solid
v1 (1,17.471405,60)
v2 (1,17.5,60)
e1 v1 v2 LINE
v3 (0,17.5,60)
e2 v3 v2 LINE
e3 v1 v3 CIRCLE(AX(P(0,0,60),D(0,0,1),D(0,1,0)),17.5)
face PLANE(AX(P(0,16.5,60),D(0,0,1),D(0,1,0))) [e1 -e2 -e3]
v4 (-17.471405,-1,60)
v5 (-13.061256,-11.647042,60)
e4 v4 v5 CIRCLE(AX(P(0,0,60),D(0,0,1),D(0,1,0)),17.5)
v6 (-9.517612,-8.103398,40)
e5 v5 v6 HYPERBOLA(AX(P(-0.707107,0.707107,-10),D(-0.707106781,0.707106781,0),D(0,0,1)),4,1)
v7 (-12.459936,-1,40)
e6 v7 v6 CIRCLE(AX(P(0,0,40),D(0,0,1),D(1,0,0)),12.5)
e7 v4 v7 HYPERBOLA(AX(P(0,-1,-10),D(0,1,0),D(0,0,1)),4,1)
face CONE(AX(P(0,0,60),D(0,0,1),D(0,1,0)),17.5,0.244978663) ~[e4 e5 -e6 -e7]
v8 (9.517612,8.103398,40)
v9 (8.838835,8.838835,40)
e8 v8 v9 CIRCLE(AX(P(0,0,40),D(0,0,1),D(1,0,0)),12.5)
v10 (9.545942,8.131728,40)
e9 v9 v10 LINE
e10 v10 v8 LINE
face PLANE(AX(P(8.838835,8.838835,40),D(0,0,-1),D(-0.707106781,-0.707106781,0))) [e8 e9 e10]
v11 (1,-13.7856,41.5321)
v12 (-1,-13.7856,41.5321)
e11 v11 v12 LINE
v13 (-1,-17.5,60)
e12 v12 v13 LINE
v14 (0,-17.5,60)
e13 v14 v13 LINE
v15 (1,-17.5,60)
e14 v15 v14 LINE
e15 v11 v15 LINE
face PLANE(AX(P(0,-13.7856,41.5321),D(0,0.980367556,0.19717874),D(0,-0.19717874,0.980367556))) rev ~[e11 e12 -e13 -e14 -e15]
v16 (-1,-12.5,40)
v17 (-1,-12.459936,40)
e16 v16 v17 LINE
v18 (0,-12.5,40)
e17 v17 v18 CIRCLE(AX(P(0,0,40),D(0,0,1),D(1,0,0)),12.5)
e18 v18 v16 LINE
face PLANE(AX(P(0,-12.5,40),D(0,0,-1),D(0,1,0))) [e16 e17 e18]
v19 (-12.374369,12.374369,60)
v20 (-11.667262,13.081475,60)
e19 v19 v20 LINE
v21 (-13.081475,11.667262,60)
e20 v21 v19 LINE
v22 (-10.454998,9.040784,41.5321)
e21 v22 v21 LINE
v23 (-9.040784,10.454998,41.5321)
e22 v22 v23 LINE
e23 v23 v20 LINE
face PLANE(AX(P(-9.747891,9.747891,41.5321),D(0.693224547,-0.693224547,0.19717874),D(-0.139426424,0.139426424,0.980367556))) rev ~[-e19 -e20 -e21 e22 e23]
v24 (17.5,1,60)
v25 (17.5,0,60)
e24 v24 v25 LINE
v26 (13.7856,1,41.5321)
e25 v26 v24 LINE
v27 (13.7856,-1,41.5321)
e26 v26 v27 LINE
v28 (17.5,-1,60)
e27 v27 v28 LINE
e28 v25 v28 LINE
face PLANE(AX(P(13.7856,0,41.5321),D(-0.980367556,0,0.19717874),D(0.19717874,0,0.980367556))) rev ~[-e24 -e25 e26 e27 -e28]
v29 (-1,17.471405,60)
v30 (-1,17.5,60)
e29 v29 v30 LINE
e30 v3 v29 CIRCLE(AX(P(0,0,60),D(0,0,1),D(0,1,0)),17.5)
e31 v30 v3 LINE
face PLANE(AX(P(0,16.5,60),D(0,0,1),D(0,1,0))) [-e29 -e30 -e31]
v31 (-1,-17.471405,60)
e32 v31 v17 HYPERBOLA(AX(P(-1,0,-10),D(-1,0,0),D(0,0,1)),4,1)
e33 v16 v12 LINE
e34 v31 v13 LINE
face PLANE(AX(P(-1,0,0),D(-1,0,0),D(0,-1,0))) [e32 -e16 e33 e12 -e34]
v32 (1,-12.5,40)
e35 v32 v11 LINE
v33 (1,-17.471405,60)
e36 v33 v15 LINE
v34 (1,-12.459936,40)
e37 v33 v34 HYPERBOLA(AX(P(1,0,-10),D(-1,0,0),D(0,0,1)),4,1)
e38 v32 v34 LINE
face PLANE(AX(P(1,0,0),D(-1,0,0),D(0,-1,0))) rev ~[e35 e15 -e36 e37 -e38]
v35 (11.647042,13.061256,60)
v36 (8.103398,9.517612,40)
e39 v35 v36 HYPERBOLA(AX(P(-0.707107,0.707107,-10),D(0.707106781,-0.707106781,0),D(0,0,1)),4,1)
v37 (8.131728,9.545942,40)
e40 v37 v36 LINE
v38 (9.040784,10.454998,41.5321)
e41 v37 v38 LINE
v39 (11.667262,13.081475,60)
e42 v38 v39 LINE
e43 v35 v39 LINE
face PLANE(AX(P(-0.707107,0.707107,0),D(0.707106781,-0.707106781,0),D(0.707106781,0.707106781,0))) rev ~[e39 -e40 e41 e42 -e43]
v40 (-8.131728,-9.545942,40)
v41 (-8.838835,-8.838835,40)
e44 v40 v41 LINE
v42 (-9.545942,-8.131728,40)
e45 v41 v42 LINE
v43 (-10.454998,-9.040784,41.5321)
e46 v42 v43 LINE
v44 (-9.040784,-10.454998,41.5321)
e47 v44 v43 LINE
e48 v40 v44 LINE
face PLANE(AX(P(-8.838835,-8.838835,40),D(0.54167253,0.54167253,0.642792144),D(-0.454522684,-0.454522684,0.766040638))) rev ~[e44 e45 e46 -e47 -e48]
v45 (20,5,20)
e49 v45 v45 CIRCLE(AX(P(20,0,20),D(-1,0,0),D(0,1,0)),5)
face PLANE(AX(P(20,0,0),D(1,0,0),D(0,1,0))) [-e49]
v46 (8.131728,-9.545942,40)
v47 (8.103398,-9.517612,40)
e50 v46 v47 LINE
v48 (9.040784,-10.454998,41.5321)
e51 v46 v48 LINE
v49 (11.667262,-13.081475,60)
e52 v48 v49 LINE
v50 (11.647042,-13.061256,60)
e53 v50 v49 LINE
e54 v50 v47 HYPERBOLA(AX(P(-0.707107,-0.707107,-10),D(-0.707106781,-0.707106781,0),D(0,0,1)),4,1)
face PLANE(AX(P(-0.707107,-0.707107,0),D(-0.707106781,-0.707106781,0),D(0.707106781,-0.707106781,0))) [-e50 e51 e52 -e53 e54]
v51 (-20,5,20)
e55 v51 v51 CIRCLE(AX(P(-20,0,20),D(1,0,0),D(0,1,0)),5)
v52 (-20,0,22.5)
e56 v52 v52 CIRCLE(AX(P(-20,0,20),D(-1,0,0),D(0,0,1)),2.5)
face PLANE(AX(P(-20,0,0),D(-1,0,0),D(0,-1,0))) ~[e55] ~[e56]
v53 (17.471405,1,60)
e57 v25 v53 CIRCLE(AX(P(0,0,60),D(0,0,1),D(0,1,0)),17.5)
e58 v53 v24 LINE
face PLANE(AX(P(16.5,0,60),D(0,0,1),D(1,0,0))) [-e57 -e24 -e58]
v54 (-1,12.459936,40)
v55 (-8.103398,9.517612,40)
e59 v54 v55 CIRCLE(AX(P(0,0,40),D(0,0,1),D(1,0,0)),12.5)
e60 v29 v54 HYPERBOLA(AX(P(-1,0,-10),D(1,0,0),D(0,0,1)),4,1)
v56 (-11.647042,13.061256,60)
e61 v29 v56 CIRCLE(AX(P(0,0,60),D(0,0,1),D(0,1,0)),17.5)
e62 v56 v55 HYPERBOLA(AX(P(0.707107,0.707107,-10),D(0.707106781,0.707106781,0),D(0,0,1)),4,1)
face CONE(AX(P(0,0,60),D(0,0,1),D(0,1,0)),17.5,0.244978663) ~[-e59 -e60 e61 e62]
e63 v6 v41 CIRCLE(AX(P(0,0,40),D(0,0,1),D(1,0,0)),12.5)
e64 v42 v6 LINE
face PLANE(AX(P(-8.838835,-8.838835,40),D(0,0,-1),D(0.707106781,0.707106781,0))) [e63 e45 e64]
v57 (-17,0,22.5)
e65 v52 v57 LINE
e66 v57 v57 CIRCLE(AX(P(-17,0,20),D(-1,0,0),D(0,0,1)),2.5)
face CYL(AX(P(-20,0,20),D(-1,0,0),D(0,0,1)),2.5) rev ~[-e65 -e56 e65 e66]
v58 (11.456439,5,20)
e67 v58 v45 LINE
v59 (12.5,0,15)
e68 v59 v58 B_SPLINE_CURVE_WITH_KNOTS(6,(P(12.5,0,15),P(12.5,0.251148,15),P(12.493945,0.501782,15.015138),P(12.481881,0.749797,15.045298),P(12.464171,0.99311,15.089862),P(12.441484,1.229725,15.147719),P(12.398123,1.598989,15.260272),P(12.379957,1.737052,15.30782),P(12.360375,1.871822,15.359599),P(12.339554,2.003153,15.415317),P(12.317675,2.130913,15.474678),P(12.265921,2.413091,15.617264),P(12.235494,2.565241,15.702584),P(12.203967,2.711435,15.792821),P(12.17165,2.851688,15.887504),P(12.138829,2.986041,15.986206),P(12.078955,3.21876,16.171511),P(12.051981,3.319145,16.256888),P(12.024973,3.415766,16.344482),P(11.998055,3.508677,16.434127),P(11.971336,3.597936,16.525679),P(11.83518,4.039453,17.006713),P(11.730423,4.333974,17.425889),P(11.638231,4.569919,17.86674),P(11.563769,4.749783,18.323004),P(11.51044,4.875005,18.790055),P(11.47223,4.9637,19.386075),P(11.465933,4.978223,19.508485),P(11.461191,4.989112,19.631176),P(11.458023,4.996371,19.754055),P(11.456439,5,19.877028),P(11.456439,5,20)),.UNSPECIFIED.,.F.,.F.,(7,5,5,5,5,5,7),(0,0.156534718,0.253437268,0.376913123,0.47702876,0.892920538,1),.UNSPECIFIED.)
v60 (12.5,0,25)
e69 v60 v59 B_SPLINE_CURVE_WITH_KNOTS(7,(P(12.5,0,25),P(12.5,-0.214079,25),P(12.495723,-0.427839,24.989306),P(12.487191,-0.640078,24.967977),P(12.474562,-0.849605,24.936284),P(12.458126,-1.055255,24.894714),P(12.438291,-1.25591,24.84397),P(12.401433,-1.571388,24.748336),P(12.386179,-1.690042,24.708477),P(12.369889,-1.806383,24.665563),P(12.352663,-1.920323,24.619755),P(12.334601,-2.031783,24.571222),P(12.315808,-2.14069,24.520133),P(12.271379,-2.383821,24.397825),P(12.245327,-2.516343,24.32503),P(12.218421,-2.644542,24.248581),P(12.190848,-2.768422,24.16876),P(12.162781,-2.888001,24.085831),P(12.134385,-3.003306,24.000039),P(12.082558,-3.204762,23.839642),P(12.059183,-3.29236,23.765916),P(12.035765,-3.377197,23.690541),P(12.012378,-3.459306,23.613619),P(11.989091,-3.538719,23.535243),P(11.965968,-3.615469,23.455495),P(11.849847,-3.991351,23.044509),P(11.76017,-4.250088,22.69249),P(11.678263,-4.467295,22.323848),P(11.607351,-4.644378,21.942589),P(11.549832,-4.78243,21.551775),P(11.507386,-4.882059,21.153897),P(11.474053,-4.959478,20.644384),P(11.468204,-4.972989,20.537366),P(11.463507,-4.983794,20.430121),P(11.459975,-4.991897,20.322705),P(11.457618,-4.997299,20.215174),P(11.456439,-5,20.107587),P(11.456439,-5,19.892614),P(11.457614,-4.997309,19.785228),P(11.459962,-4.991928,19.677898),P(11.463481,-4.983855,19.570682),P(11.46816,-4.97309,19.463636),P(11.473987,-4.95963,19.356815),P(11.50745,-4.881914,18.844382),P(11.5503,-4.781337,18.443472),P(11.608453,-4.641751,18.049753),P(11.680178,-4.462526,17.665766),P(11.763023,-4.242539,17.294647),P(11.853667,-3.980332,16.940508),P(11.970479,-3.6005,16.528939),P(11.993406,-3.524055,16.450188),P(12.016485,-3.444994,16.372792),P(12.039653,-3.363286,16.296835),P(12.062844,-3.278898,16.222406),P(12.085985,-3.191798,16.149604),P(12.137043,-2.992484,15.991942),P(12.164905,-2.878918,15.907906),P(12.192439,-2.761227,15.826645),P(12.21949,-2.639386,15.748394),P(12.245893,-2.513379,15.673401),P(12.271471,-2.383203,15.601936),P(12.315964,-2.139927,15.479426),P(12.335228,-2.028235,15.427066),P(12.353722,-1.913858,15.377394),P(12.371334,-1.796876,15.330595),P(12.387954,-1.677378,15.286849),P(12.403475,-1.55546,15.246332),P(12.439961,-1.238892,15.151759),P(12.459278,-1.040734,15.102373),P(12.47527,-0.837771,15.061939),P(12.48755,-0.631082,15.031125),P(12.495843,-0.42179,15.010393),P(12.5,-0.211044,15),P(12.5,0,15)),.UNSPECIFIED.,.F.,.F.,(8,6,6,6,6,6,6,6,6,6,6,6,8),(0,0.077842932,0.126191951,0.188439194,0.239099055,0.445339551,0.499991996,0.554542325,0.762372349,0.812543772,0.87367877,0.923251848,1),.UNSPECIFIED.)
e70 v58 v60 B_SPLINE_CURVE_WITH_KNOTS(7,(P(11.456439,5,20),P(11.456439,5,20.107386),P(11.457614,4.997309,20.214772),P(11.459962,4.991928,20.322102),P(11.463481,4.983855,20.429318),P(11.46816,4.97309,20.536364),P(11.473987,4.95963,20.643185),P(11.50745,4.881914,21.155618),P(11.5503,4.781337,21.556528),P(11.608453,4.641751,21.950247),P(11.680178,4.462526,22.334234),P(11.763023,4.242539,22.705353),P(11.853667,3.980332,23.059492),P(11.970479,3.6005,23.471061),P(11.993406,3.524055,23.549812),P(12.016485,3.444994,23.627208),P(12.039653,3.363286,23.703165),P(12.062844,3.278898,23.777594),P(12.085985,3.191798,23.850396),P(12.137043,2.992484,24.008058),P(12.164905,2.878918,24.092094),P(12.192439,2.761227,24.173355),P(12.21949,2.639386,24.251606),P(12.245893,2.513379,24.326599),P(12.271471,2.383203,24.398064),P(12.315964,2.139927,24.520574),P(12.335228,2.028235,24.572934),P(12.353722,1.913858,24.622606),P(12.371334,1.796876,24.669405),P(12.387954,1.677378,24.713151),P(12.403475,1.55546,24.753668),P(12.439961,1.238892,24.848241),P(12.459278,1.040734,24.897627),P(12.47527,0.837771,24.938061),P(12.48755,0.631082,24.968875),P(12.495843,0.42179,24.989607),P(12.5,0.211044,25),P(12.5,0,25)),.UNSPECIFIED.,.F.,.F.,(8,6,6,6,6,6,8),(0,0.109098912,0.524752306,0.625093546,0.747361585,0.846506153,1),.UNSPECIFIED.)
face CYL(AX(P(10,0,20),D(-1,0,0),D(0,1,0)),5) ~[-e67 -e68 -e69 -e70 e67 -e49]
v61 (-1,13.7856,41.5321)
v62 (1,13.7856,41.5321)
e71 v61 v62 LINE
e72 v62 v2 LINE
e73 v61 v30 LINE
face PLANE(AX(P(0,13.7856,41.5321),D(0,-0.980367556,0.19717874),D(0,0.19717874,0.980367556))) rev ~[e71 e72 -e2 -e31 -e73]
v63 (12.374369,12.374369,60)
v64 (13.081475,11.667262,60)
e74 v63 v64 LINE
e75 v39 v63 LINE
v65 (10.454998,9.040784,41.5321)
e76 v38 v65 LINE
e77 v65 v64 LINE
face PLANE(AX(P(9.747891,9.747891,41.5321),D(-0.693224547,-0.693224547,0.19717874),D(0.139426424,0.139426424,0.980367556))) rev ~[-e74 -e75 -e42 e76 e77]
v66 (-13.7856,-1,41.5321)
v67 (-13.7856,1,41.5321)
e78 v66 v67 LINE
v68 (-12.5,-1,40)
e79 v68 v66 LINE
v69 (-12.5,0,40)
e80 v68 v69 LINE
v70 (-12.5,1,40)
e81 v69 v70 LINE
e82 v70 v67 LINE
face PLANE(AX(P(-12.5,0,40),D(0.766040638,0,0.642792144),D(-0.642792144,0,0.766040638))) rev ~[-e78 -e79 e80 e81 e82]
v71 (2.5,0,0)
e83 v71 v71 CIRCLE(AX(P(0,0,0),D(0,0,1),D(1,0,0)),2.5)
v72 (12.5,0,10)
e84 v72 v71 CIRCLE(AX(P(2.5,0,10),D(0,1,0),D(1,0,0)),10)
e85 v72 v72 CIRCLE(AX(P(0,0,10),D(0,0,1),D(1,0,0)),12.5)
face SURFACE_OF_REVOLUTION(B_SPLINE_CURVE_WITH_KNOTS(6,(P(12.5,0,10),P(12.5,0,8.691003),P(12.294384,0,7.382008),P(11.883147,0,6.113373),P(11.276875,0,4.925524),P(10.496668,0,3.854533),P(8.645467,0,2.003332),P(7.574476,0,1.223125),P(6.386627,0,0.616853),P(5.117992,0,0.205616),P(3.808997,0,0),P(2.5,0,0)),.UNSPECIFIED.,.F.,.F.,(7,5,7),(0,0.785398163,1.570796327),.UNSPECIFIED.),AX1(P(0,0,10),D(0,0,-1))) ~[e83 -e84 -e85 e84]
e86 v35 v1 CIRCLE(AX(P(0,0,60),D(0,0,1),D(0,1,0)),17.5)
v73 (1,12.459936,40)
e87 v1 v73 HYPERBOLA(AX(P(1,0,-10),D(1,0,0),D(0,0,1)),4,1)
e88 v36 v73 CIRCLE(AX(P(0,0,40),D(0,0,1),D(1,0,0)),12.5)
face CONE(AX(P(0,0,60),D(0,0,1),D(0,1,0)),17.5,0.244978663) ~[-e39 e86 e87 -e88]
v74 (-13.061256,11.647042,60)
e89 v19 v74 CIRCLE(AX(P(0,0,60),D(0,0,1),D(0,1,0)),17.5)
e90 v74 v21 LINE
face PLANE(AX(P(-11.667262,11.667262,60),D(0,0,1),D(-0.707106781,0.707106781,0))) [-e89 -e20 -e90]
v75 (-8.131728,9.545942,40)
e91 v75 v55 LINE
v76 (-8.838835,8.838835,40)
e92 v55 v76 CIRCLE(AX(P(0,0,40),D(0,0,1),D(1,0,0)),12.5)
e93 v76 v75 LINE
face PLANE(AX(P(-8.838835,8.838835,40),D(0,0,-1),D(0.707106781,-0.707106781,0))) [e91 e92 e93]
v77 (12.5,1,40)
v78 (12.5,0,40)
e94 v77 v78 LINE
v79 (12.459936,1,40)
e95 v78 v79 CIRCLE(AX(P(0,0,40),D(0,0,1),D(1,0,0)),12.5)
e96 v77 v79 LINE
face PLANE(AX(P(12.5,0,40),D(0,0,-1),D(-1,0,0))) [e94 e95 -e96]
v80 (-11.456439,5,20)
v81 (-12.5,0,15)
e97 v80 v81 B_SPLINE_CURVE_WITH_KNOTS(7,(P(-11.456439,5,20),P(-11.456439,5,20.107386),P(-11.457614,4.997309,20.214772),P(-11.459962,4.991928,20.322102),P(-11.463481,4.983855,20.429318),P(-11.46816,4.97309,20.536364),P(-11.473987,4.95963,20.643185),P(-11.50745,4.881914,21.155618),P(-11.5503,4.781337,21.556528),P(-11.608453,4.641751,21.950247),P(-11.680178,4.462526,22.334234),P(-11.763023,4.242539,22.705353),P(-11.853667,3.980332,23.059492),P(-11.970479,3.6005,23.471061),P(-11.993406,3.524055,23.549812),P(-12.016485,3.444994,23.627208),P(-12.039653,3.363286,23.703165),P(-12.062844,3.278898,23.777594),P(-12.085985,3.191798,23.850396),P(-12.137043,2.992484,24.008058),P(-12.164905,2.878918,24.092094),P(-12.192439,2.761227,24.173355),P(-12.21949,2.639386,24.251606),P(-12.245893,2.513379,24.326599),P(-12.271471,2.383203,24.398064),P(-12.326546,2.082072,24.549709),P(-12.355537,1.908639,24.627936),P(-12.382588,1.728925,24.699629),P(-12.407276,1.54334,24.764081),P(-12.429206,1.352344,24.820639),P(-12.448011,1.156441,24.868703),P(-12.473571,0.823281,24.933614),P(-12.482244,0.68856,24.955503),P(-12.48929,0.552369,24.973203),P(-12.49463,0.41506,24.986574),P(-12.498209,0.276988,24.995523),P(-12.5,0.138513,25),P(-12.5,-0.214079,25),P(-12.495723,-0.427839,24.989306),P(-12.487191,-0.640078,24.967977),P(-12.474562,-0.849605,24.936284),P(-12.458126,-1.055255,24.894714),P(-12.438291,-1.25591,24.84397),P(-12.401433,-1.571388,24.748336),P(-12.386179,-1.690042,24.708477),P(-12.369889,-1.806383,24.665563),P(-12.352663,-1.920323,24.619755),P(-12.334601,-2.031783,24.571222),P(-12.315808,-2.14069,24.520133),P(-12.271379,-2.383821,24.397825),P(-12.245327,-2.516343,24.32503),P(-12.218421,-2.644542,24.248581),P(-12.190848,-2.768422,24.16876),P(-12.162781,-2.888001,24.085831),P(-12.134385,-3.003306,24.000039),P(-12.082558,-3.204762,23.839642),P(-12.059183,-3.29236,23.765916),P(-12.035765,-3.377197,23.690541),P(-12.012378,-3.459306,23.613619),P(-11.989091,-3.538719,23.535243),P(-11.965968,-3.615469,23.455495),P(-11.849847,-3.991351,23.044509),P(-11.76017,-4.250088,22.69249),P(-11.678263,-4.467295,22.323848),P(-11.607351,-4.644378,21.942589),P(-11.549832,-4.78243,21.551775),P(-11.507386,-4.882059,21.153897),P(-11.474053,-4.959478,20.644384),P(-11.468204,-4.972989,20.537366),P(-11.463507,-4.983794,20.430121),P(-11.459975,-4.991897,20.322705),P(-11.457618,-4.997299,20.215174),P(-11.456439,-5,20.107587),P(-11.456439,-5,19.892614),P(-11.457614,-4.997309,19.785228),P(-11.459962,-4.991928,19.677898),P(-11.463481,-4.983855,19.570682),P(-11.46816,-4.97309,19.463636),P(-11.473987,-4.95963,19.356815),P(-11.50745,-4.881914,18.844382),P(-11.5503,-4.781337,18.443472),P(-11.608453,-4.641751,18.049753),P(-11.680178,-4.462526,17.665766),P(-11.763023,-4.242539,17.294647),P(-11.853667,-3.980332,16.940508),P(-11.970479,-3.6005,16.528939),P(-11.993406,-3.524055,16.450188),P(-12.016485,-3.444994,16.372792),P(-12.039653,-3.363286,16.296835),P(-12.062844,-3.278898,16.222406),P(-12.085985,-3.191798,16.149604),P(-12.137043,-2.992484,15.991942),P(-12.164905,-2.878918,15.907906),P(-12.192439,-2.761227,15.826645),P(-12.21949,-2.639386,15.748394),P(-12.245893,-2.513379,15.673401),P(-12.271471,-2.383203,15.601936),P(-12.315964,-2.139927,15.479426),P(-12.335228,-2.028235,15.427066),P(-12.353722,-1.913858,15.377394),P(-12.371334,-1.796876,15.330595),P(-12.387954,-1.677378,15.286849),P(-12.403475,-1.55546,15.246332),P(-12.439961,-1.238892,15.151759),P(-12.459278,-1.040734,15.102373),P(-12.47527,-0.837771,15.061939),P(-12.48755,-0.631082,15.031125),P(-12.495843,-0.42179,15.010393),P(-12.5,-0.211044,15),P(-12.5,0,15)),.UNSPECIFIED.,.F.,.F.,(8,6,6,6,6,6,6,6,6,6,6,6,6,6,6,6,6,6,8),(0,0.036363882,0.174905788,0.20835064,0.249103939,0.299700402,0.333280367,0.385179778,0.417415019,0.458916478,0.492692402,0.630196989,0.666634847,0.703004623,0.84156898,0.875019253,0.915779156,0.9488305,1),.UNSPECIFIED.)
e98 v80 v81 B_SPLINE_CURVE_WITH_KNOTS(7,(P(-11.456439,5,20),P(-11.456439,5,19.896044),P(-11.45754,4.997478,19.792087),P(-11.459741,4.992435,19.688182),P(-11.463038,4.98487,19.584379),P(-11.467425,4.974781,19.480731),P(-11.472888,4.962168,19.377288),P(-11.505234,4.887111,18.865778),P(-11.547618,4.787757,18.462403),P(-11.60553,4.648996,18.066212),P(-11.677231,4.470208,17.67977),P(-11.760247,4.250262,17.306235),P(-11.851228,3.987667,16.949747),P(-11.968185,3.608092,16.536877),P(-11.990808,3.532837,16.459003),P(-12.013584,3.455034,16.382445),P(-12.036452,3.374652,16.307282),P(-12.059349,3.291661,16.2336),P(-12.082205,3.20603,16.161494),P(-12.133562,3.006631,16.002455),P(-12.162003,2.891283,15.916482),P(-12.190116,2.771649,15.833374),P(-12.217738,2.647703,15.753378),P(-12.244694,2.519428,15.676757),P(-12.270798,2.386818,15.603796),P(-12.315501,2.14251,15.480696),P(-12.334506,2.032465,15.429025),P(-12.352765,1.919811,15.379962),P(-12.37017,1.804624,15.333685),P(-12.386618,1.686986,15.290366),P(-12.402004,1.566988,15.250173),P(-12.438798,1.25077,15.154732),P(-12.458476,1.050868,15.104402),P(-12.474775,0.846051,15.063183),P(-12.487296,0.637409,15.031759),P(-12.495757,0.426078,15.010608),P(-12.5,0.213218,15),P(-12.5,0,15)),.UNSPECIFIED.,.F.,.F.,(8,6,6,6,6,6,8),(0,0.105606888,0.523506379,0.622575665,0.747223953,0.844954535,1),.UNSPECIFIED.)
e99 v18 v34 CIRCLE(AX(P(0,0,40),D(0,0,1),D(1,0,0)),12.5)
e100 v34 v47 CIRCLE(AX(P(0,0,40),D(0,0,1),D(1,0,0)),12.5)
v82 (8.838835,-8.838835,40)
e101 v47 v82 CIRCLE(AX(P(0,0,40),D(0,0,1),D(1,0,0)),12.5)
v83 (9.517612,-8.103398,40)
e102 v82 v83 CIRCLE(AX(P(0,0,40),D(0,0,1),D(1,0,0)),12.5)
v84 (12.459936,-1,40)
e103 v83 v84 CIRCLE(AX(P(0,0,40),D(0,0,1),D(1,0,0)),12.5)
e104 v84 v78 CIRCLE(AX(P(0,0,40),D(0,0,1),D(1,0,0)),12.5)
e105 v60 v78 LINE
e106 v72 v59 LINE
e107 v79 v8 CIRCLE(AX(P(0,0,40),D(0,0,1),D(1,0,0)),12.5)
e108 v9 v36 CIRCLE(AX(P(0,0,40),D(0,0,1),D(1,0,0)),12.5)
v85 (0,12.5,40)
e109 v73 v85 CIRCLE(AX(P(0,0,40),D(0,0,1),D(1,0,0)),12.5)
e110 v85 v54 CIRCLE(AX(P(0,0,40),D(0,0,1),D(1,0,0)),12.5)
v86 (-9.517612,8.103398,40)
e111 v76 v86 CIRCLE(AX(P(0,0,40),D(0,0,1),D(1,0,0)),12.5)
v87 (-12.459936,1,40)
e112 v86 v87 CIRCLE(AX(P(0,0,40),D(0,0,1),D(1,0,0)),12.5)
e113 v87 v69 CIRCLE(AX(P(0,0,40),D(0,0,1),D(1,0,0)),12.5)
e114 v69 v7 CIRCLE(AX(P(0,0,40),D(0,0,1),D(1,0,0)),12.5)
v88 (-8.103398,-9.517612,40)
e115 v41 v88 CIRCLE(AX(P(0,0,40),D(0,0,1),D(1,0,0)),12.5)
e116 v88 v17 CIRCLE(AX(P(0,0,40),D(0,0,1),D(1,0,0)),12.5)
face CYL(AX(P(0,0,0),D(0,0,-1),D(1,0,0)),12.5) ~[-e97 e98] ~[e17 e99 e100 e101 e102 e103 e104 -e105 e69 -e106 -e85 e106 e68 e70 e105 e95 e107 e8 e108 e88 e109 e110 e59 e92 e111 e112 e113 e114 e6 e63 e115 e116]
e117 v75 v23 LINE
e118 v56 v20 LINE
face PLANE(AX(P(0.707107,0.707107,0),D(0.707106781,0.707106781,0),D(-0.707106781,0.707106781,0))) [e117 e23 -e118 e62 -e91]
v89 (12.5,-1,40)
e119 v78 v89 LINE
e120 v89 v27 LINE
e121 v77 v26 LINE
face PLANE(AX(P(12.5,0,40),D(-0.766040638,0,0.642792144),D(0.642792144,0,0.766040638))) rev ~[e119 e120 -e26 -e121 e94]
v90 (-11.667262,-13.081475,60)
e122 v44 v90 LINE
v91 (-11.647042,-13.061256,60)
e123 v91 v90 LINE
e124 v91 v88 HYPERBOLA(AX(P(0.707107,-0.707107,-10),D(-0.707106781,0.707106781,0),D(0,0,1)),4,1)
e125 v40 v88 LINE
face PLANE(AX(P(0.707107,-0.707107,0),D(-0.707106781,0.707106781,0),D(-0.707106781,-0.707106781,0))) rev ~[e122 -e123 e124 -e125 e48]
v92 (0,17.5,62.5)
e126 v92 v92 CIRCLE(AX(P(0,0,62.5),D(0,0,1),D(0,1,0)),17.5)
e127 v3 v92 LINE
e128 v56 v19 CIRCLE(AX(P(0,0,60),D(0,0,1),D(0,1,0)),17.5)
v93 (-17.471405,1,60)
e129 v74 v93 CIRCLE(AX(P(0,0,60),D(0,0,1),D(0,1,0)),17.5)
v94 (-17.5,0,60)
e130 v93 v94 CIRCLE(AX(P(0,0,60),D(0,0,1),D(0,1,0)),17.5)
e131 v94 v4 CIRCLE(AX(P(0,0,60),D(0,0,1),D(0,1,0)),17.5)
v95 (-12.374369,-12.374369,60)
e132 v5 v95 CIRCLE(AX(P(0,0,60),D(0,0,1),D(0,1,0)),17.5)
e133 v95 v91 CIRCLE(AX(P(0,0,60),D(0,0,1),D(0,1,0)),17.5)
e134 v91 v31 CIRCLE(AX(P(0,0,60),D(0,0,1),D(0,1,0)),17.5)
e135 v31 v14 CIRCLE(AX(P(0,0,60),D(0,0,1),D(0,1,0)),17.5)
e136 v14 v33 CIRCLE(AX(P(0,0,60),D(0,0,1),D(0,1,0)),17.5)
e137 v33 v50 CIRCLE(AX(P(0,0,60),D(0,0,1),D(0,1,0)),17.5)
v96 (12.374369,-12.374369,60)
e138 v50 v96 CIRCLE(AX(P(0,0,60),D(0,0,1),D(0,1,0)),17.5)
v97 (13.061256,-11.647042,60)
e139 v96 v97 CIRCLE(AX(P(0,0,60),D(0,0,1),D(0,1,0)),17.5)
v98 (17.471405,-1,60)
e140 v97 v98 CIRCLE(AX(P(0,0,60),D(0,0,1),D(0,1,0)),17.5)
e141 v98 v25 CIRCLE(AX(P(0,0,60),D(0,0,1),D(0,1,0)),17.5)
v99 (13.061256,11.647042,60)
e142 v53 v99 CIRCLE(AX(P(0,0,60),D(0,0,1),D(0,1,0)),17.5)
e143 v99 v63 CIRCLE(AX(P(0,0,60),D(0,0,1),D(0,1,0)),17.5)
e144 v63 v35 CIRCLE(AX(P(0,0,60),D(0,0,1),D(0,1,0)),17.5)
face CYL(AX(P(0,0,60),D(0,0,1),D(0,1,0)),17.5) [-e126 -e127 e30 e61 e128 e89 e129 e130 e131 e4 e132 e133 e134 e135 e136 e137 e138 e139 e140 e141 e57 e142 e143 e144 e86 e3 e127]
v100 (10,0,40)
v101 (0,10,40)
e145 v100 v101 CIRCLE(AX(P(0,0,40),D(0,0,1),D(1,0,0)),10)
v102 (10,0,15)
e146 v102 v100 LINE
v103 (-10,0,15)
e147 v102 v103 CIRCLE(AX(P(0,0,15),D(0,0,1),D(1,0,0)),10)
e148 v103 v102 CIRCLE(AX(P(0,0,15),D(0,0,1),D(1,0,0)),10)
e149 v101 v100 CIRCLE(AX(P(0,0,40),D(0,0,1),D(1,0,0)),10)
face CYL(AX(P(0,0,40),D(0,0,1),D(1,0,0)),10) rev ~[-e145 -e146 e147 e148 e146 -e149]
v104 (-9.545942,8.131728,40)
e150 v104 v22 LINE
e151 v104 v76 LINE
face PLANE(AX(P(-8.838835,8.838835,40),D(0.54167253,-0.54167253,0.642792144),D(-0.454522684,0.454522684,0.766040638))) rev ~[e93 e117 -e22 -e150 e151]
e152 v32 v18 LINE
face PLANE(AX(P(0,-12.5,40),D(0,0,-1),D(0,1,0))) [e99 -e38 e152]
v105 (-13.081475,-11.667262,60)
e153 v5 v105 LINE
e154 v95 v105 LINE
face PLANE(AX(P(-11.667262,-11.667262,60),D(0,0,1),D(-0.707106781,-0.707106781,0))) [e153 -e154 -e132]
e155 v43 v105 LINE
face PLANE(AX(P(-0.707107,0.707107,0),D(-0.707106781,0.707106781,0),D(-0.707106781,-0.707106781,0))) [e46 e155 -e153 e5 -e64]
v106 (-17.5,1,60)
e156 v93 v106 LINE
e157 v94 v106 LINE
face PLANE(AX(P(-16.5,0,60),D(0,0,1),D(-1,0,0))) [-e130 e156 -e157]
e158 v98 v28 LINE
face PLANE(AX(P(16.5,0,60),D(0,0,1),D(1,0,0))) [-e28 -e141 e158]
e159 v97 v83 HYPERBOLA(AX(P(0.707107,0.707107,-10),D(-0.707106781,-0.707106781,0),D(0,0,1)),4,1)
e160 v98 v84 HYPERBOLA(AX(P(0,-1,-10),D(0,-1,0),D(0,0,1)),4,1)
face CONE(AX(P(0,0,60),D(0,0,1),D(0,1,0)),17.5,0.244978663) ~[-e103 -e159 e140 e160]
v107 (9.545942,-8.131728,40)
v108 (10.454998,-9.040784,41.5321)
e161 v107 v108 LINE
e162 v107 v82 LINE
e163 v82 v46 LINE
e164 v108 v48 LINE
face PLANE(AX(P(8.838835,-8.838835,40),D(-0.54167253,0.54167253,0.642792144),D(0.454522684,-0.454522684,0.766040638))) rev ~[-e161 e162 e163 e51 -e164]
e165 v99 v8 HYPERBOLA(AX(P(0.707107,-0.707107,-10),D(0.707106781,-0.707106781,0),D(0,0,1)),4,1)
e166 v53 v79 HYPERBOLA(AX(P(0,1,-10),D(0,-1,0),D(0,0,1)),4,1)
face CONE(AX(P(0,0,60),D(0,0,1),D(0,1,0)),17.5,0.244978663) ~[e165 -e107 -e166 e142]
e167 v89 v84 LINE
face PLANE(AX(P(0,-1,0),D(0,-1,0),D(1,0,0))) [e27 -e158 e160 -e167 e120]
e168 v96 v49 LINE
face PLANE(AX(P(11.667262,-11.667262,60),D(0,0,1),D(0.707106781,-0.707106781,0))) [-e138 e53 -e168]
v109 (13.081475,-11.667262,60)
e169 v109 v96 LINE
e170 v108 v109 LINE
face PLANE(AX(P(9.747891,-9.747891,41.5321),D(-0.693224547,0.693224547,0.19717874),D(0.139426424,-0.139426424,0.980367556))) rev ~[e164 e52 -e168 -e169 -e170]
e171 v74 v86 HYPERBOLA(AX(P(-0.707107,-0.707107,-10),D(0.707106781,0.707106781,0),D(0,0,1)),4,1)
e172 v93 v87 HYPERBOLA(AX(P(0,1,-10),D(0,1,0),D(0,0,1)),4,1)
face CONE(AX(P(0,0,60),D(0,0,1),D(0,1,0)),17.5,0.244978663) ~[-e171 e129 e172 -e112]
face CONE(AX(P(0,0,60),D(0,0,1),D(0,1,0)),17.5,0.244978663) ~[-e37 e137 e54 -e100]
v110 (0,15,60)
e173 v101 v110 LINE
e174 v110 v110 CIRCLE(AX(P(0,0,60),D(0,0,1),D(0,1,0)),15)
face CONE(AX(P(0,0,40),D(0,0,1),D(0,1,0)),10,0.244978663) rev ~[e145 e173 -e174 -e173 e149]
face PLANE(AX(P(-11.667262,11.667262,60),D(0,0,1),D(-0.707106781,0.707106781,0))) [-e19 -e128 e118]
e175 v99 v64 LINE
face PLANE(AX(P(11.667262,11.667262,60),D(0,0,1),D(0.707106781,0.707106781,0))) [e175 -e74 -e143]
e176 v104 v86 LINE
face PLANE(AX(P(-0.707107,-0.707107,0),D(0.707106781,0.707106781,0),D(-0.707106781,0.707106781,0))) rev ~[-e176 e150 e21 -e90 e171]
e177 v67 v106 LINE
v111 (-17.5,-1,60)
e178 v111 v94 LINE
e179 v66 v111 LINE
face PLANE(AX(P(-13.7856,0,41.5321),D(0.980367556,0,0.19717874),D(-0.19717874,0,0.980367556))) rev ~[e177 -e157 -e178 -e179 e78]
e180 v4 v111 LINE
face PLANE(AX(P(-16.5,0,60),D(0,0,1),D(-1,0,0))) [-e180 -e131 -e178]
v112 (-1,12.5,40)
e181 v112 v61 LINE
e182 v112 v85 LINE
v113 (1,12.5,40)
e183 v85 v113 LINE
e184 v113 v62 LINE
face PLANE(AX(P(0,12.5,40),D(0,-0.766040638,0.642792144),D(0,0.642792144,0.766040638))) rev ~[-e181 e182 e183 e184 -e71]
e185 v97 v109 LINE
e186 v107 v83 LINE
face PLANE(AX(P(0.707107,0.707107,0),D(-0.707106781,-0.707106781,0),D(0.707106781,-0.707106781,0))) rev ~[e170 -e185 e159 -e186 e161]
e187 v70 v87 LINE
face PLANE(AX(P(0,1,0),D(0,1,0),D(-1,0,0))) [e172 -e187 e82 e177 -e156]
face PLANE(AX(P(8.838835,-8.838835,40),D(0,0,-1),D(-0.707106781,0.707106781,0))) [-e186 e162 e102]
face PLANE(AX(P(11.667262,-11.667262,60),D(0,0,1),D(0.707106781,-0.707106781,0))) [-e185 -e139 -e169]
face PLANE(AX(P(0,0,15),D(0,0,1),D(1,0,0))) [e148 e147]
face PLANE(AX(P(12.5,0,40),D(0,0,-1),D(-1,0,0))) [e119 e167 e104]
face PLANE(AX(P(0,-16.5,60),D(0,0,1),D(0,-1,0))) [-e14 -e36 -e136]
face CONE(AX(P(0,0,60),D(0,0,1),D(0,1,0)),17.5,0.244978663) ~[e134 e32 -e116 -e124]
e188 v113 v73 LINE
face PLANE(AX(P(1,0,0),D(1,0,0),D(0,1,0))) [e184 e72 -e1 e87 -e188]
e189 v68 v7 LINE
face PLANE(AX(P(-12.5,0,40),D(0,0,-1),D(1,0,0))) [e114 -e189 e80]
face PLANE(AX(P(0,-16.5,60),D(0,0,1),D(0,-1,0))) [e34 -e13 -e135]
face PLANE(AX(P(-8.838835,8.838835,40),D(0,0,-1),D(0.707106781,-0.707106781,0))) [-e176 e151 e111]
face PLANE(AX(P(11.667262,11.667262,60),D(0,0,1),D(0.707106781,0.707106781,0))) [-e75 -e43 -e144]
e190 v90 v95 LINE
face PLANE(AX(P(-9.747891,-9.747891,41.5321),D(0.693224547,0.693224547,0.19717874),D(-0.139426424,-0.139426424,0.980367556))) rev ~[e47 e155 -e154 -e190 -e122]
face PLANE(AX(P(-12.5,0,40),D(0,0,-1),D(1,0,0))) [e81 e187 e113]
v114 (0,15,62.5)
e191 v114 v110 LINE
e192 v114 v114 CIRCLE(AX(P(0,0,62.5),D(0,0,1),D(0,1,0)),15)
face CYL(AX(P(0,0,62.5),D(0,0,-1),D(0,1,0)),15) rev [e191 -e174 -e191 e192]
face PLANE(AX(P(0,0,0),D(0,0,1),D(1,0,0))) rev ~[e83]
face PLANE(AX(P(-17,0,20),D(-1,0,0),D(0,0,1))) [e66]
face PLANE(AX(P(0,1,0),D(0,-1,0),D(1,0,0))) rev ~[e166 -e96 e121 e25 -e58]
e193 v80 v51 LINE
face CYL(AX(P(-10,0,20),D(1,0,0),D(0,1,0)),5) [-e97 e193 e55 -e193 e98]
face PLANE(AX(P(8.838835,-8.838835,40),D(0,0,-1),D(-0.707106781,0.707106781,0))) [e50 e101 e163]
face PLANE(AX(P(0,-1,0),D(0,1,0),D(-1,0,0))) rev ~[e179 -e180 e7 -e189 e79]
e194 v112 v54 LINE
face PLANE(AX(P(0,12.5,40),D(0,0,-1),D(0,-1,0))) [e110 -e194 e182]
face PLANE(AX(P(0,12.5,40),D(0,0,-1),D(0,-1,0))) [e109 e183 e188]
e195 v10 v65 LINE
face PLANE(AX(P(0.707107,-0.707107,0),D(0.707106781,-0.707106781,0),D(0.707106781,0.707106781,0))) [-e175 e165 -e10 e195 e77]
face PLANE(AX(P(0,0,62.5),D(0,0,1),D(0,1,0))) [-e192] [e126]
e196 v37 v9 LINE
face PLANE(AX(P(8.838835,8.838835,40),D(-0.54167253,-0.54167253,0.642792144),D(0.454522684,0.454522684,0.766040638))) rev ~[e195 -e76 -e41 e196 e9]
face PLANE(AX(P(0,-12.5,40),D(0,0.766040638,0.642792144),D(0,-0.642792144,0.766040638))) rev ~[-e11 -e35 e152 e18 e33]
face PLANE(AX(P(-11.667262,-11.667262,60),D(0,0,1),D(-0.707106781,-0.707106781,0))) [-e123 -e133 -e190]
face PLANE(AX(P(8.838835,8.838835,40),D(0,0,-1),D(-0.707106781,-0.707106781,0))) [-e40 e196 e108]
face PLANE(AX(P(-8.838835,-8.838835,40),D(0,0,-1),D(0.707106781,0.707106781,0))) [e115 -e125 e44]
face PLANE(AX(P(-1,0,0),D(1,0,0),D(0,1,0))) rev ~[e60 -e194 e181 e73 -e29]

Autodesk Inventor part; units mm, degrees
sketch "Sketch19" plane through (0, 0, 0) normal (0, 0, 1) x (1, 0, 0)
  circle A0 centre (0, 0) radius 12.5
  dimension "d130" = 25
extrude "Extrusion17" add sketch "Sketch19" along normal blind 40
sketch "Sketch20" plane through (0, 0, 40) normal (0, 0, 1) x (1, 0, 0)
  circle A0 centre (0, 0) radius 10
  dimension "d133" = 20
fillet "Fillet6" radius 10 1 edges at (-12.5, 0, 0)
extrude "Extrusion18" cut sketch "Sketch20" against normal blind 25
ref_plane "Work Plane3" through (10, 0, 0) normal (1, 0, 0) x (0, 1, 0)
sketch "Sketch21" plane through (10, 0, 0) normal (1, 0, 0) x (0, 1, 0)
  line L0 (0, 0) -> (0, 20)
  circle A0 centre (0, 20) radius 5
  dimension "d138" = 20
  dimension "d139" = 10
extrude "Extrusion19" add sketch "Sketch21" along normal blind 10
mirror "Mirror1" about plane through (0, 0, 0) normal (1, 0, 0) of "Extrusion19"
sketch "Sketch22" plane through (-20, 0, 20) normal (-1, 0, 0) x (0, 0, 1)
  circle A0 centre (0, 0) radius 2.5
  point P0 (-20, 0)
  dimension "d142" = 5
extrude "Extrusion20" cut sketch "Sketch22" against normal blind 3
sketch "Sketch26" plane through (0, 0, 0) normal (1, 0, 0) x (0, 1, 0)
  line L0 (-10, 40) -> (10, 40) projected
  line L1 (12.5, 40) -> (-12.5, 40) projected
  line L2 (10, 40) -> (12.5, 40)
  line L3 (17.5, 60) -> (12.5, 40)
  line L4 (17.5, 60) -> (17.5, 62.5)
  line L5 (17.5, 62.5) -> (15, 62.5)
  line L6 (15, 62.5) -> (15, 60)
  line L7 (10, 40) -> (15, 60)
  line L8 (0, -10.5) -> (0, 63) projected
  point P0 (0, 0)
  dimension "d147" = 2.5
  dimension "d148" = 2.5
revolve "Revolution1" add sketch "Sketch26" angle 360 about axis through (0, 0, -10) along (0, 0, 1)
sketch "Sketch27" plane through (0, 0, 0) normal (1, 0, 0) x (0, 1, 0)
  line L0 (12.5, 40) -> (13.7856, 41.5321)
  line L1 (12.5, 40) -> (14.5, 40) construction
  line L2 (13.7856, 41.5321) -> (17.5, 60)
  line L3 (12.5, 40) -> (-12.5, 40) projected
  line L4 (12.5, 40) -> (11.5, 40)
  line L5 (-17.5, 60) -> (17.5, 60) projected
  line L6 (17.5, 60) -> (16.5, 60)
  line L7 (16.5, 60) -> (11.5, 40)
  point P0 (0, 0)
  dimension "d150" = 2
  dimension "d151" = 50
  dimension "d152" = 1
  dimension "d153" = 1
extrude "Extrusion21" add sketch "Sketch27" along normal mid plane 2
pattern_circular "Circular Pattern2" count 8 over 360 about axis through (0, 0, -10) along (0, 0, 1) of "Extrusion21"
properties part number "Waterkanon" material "S235"
